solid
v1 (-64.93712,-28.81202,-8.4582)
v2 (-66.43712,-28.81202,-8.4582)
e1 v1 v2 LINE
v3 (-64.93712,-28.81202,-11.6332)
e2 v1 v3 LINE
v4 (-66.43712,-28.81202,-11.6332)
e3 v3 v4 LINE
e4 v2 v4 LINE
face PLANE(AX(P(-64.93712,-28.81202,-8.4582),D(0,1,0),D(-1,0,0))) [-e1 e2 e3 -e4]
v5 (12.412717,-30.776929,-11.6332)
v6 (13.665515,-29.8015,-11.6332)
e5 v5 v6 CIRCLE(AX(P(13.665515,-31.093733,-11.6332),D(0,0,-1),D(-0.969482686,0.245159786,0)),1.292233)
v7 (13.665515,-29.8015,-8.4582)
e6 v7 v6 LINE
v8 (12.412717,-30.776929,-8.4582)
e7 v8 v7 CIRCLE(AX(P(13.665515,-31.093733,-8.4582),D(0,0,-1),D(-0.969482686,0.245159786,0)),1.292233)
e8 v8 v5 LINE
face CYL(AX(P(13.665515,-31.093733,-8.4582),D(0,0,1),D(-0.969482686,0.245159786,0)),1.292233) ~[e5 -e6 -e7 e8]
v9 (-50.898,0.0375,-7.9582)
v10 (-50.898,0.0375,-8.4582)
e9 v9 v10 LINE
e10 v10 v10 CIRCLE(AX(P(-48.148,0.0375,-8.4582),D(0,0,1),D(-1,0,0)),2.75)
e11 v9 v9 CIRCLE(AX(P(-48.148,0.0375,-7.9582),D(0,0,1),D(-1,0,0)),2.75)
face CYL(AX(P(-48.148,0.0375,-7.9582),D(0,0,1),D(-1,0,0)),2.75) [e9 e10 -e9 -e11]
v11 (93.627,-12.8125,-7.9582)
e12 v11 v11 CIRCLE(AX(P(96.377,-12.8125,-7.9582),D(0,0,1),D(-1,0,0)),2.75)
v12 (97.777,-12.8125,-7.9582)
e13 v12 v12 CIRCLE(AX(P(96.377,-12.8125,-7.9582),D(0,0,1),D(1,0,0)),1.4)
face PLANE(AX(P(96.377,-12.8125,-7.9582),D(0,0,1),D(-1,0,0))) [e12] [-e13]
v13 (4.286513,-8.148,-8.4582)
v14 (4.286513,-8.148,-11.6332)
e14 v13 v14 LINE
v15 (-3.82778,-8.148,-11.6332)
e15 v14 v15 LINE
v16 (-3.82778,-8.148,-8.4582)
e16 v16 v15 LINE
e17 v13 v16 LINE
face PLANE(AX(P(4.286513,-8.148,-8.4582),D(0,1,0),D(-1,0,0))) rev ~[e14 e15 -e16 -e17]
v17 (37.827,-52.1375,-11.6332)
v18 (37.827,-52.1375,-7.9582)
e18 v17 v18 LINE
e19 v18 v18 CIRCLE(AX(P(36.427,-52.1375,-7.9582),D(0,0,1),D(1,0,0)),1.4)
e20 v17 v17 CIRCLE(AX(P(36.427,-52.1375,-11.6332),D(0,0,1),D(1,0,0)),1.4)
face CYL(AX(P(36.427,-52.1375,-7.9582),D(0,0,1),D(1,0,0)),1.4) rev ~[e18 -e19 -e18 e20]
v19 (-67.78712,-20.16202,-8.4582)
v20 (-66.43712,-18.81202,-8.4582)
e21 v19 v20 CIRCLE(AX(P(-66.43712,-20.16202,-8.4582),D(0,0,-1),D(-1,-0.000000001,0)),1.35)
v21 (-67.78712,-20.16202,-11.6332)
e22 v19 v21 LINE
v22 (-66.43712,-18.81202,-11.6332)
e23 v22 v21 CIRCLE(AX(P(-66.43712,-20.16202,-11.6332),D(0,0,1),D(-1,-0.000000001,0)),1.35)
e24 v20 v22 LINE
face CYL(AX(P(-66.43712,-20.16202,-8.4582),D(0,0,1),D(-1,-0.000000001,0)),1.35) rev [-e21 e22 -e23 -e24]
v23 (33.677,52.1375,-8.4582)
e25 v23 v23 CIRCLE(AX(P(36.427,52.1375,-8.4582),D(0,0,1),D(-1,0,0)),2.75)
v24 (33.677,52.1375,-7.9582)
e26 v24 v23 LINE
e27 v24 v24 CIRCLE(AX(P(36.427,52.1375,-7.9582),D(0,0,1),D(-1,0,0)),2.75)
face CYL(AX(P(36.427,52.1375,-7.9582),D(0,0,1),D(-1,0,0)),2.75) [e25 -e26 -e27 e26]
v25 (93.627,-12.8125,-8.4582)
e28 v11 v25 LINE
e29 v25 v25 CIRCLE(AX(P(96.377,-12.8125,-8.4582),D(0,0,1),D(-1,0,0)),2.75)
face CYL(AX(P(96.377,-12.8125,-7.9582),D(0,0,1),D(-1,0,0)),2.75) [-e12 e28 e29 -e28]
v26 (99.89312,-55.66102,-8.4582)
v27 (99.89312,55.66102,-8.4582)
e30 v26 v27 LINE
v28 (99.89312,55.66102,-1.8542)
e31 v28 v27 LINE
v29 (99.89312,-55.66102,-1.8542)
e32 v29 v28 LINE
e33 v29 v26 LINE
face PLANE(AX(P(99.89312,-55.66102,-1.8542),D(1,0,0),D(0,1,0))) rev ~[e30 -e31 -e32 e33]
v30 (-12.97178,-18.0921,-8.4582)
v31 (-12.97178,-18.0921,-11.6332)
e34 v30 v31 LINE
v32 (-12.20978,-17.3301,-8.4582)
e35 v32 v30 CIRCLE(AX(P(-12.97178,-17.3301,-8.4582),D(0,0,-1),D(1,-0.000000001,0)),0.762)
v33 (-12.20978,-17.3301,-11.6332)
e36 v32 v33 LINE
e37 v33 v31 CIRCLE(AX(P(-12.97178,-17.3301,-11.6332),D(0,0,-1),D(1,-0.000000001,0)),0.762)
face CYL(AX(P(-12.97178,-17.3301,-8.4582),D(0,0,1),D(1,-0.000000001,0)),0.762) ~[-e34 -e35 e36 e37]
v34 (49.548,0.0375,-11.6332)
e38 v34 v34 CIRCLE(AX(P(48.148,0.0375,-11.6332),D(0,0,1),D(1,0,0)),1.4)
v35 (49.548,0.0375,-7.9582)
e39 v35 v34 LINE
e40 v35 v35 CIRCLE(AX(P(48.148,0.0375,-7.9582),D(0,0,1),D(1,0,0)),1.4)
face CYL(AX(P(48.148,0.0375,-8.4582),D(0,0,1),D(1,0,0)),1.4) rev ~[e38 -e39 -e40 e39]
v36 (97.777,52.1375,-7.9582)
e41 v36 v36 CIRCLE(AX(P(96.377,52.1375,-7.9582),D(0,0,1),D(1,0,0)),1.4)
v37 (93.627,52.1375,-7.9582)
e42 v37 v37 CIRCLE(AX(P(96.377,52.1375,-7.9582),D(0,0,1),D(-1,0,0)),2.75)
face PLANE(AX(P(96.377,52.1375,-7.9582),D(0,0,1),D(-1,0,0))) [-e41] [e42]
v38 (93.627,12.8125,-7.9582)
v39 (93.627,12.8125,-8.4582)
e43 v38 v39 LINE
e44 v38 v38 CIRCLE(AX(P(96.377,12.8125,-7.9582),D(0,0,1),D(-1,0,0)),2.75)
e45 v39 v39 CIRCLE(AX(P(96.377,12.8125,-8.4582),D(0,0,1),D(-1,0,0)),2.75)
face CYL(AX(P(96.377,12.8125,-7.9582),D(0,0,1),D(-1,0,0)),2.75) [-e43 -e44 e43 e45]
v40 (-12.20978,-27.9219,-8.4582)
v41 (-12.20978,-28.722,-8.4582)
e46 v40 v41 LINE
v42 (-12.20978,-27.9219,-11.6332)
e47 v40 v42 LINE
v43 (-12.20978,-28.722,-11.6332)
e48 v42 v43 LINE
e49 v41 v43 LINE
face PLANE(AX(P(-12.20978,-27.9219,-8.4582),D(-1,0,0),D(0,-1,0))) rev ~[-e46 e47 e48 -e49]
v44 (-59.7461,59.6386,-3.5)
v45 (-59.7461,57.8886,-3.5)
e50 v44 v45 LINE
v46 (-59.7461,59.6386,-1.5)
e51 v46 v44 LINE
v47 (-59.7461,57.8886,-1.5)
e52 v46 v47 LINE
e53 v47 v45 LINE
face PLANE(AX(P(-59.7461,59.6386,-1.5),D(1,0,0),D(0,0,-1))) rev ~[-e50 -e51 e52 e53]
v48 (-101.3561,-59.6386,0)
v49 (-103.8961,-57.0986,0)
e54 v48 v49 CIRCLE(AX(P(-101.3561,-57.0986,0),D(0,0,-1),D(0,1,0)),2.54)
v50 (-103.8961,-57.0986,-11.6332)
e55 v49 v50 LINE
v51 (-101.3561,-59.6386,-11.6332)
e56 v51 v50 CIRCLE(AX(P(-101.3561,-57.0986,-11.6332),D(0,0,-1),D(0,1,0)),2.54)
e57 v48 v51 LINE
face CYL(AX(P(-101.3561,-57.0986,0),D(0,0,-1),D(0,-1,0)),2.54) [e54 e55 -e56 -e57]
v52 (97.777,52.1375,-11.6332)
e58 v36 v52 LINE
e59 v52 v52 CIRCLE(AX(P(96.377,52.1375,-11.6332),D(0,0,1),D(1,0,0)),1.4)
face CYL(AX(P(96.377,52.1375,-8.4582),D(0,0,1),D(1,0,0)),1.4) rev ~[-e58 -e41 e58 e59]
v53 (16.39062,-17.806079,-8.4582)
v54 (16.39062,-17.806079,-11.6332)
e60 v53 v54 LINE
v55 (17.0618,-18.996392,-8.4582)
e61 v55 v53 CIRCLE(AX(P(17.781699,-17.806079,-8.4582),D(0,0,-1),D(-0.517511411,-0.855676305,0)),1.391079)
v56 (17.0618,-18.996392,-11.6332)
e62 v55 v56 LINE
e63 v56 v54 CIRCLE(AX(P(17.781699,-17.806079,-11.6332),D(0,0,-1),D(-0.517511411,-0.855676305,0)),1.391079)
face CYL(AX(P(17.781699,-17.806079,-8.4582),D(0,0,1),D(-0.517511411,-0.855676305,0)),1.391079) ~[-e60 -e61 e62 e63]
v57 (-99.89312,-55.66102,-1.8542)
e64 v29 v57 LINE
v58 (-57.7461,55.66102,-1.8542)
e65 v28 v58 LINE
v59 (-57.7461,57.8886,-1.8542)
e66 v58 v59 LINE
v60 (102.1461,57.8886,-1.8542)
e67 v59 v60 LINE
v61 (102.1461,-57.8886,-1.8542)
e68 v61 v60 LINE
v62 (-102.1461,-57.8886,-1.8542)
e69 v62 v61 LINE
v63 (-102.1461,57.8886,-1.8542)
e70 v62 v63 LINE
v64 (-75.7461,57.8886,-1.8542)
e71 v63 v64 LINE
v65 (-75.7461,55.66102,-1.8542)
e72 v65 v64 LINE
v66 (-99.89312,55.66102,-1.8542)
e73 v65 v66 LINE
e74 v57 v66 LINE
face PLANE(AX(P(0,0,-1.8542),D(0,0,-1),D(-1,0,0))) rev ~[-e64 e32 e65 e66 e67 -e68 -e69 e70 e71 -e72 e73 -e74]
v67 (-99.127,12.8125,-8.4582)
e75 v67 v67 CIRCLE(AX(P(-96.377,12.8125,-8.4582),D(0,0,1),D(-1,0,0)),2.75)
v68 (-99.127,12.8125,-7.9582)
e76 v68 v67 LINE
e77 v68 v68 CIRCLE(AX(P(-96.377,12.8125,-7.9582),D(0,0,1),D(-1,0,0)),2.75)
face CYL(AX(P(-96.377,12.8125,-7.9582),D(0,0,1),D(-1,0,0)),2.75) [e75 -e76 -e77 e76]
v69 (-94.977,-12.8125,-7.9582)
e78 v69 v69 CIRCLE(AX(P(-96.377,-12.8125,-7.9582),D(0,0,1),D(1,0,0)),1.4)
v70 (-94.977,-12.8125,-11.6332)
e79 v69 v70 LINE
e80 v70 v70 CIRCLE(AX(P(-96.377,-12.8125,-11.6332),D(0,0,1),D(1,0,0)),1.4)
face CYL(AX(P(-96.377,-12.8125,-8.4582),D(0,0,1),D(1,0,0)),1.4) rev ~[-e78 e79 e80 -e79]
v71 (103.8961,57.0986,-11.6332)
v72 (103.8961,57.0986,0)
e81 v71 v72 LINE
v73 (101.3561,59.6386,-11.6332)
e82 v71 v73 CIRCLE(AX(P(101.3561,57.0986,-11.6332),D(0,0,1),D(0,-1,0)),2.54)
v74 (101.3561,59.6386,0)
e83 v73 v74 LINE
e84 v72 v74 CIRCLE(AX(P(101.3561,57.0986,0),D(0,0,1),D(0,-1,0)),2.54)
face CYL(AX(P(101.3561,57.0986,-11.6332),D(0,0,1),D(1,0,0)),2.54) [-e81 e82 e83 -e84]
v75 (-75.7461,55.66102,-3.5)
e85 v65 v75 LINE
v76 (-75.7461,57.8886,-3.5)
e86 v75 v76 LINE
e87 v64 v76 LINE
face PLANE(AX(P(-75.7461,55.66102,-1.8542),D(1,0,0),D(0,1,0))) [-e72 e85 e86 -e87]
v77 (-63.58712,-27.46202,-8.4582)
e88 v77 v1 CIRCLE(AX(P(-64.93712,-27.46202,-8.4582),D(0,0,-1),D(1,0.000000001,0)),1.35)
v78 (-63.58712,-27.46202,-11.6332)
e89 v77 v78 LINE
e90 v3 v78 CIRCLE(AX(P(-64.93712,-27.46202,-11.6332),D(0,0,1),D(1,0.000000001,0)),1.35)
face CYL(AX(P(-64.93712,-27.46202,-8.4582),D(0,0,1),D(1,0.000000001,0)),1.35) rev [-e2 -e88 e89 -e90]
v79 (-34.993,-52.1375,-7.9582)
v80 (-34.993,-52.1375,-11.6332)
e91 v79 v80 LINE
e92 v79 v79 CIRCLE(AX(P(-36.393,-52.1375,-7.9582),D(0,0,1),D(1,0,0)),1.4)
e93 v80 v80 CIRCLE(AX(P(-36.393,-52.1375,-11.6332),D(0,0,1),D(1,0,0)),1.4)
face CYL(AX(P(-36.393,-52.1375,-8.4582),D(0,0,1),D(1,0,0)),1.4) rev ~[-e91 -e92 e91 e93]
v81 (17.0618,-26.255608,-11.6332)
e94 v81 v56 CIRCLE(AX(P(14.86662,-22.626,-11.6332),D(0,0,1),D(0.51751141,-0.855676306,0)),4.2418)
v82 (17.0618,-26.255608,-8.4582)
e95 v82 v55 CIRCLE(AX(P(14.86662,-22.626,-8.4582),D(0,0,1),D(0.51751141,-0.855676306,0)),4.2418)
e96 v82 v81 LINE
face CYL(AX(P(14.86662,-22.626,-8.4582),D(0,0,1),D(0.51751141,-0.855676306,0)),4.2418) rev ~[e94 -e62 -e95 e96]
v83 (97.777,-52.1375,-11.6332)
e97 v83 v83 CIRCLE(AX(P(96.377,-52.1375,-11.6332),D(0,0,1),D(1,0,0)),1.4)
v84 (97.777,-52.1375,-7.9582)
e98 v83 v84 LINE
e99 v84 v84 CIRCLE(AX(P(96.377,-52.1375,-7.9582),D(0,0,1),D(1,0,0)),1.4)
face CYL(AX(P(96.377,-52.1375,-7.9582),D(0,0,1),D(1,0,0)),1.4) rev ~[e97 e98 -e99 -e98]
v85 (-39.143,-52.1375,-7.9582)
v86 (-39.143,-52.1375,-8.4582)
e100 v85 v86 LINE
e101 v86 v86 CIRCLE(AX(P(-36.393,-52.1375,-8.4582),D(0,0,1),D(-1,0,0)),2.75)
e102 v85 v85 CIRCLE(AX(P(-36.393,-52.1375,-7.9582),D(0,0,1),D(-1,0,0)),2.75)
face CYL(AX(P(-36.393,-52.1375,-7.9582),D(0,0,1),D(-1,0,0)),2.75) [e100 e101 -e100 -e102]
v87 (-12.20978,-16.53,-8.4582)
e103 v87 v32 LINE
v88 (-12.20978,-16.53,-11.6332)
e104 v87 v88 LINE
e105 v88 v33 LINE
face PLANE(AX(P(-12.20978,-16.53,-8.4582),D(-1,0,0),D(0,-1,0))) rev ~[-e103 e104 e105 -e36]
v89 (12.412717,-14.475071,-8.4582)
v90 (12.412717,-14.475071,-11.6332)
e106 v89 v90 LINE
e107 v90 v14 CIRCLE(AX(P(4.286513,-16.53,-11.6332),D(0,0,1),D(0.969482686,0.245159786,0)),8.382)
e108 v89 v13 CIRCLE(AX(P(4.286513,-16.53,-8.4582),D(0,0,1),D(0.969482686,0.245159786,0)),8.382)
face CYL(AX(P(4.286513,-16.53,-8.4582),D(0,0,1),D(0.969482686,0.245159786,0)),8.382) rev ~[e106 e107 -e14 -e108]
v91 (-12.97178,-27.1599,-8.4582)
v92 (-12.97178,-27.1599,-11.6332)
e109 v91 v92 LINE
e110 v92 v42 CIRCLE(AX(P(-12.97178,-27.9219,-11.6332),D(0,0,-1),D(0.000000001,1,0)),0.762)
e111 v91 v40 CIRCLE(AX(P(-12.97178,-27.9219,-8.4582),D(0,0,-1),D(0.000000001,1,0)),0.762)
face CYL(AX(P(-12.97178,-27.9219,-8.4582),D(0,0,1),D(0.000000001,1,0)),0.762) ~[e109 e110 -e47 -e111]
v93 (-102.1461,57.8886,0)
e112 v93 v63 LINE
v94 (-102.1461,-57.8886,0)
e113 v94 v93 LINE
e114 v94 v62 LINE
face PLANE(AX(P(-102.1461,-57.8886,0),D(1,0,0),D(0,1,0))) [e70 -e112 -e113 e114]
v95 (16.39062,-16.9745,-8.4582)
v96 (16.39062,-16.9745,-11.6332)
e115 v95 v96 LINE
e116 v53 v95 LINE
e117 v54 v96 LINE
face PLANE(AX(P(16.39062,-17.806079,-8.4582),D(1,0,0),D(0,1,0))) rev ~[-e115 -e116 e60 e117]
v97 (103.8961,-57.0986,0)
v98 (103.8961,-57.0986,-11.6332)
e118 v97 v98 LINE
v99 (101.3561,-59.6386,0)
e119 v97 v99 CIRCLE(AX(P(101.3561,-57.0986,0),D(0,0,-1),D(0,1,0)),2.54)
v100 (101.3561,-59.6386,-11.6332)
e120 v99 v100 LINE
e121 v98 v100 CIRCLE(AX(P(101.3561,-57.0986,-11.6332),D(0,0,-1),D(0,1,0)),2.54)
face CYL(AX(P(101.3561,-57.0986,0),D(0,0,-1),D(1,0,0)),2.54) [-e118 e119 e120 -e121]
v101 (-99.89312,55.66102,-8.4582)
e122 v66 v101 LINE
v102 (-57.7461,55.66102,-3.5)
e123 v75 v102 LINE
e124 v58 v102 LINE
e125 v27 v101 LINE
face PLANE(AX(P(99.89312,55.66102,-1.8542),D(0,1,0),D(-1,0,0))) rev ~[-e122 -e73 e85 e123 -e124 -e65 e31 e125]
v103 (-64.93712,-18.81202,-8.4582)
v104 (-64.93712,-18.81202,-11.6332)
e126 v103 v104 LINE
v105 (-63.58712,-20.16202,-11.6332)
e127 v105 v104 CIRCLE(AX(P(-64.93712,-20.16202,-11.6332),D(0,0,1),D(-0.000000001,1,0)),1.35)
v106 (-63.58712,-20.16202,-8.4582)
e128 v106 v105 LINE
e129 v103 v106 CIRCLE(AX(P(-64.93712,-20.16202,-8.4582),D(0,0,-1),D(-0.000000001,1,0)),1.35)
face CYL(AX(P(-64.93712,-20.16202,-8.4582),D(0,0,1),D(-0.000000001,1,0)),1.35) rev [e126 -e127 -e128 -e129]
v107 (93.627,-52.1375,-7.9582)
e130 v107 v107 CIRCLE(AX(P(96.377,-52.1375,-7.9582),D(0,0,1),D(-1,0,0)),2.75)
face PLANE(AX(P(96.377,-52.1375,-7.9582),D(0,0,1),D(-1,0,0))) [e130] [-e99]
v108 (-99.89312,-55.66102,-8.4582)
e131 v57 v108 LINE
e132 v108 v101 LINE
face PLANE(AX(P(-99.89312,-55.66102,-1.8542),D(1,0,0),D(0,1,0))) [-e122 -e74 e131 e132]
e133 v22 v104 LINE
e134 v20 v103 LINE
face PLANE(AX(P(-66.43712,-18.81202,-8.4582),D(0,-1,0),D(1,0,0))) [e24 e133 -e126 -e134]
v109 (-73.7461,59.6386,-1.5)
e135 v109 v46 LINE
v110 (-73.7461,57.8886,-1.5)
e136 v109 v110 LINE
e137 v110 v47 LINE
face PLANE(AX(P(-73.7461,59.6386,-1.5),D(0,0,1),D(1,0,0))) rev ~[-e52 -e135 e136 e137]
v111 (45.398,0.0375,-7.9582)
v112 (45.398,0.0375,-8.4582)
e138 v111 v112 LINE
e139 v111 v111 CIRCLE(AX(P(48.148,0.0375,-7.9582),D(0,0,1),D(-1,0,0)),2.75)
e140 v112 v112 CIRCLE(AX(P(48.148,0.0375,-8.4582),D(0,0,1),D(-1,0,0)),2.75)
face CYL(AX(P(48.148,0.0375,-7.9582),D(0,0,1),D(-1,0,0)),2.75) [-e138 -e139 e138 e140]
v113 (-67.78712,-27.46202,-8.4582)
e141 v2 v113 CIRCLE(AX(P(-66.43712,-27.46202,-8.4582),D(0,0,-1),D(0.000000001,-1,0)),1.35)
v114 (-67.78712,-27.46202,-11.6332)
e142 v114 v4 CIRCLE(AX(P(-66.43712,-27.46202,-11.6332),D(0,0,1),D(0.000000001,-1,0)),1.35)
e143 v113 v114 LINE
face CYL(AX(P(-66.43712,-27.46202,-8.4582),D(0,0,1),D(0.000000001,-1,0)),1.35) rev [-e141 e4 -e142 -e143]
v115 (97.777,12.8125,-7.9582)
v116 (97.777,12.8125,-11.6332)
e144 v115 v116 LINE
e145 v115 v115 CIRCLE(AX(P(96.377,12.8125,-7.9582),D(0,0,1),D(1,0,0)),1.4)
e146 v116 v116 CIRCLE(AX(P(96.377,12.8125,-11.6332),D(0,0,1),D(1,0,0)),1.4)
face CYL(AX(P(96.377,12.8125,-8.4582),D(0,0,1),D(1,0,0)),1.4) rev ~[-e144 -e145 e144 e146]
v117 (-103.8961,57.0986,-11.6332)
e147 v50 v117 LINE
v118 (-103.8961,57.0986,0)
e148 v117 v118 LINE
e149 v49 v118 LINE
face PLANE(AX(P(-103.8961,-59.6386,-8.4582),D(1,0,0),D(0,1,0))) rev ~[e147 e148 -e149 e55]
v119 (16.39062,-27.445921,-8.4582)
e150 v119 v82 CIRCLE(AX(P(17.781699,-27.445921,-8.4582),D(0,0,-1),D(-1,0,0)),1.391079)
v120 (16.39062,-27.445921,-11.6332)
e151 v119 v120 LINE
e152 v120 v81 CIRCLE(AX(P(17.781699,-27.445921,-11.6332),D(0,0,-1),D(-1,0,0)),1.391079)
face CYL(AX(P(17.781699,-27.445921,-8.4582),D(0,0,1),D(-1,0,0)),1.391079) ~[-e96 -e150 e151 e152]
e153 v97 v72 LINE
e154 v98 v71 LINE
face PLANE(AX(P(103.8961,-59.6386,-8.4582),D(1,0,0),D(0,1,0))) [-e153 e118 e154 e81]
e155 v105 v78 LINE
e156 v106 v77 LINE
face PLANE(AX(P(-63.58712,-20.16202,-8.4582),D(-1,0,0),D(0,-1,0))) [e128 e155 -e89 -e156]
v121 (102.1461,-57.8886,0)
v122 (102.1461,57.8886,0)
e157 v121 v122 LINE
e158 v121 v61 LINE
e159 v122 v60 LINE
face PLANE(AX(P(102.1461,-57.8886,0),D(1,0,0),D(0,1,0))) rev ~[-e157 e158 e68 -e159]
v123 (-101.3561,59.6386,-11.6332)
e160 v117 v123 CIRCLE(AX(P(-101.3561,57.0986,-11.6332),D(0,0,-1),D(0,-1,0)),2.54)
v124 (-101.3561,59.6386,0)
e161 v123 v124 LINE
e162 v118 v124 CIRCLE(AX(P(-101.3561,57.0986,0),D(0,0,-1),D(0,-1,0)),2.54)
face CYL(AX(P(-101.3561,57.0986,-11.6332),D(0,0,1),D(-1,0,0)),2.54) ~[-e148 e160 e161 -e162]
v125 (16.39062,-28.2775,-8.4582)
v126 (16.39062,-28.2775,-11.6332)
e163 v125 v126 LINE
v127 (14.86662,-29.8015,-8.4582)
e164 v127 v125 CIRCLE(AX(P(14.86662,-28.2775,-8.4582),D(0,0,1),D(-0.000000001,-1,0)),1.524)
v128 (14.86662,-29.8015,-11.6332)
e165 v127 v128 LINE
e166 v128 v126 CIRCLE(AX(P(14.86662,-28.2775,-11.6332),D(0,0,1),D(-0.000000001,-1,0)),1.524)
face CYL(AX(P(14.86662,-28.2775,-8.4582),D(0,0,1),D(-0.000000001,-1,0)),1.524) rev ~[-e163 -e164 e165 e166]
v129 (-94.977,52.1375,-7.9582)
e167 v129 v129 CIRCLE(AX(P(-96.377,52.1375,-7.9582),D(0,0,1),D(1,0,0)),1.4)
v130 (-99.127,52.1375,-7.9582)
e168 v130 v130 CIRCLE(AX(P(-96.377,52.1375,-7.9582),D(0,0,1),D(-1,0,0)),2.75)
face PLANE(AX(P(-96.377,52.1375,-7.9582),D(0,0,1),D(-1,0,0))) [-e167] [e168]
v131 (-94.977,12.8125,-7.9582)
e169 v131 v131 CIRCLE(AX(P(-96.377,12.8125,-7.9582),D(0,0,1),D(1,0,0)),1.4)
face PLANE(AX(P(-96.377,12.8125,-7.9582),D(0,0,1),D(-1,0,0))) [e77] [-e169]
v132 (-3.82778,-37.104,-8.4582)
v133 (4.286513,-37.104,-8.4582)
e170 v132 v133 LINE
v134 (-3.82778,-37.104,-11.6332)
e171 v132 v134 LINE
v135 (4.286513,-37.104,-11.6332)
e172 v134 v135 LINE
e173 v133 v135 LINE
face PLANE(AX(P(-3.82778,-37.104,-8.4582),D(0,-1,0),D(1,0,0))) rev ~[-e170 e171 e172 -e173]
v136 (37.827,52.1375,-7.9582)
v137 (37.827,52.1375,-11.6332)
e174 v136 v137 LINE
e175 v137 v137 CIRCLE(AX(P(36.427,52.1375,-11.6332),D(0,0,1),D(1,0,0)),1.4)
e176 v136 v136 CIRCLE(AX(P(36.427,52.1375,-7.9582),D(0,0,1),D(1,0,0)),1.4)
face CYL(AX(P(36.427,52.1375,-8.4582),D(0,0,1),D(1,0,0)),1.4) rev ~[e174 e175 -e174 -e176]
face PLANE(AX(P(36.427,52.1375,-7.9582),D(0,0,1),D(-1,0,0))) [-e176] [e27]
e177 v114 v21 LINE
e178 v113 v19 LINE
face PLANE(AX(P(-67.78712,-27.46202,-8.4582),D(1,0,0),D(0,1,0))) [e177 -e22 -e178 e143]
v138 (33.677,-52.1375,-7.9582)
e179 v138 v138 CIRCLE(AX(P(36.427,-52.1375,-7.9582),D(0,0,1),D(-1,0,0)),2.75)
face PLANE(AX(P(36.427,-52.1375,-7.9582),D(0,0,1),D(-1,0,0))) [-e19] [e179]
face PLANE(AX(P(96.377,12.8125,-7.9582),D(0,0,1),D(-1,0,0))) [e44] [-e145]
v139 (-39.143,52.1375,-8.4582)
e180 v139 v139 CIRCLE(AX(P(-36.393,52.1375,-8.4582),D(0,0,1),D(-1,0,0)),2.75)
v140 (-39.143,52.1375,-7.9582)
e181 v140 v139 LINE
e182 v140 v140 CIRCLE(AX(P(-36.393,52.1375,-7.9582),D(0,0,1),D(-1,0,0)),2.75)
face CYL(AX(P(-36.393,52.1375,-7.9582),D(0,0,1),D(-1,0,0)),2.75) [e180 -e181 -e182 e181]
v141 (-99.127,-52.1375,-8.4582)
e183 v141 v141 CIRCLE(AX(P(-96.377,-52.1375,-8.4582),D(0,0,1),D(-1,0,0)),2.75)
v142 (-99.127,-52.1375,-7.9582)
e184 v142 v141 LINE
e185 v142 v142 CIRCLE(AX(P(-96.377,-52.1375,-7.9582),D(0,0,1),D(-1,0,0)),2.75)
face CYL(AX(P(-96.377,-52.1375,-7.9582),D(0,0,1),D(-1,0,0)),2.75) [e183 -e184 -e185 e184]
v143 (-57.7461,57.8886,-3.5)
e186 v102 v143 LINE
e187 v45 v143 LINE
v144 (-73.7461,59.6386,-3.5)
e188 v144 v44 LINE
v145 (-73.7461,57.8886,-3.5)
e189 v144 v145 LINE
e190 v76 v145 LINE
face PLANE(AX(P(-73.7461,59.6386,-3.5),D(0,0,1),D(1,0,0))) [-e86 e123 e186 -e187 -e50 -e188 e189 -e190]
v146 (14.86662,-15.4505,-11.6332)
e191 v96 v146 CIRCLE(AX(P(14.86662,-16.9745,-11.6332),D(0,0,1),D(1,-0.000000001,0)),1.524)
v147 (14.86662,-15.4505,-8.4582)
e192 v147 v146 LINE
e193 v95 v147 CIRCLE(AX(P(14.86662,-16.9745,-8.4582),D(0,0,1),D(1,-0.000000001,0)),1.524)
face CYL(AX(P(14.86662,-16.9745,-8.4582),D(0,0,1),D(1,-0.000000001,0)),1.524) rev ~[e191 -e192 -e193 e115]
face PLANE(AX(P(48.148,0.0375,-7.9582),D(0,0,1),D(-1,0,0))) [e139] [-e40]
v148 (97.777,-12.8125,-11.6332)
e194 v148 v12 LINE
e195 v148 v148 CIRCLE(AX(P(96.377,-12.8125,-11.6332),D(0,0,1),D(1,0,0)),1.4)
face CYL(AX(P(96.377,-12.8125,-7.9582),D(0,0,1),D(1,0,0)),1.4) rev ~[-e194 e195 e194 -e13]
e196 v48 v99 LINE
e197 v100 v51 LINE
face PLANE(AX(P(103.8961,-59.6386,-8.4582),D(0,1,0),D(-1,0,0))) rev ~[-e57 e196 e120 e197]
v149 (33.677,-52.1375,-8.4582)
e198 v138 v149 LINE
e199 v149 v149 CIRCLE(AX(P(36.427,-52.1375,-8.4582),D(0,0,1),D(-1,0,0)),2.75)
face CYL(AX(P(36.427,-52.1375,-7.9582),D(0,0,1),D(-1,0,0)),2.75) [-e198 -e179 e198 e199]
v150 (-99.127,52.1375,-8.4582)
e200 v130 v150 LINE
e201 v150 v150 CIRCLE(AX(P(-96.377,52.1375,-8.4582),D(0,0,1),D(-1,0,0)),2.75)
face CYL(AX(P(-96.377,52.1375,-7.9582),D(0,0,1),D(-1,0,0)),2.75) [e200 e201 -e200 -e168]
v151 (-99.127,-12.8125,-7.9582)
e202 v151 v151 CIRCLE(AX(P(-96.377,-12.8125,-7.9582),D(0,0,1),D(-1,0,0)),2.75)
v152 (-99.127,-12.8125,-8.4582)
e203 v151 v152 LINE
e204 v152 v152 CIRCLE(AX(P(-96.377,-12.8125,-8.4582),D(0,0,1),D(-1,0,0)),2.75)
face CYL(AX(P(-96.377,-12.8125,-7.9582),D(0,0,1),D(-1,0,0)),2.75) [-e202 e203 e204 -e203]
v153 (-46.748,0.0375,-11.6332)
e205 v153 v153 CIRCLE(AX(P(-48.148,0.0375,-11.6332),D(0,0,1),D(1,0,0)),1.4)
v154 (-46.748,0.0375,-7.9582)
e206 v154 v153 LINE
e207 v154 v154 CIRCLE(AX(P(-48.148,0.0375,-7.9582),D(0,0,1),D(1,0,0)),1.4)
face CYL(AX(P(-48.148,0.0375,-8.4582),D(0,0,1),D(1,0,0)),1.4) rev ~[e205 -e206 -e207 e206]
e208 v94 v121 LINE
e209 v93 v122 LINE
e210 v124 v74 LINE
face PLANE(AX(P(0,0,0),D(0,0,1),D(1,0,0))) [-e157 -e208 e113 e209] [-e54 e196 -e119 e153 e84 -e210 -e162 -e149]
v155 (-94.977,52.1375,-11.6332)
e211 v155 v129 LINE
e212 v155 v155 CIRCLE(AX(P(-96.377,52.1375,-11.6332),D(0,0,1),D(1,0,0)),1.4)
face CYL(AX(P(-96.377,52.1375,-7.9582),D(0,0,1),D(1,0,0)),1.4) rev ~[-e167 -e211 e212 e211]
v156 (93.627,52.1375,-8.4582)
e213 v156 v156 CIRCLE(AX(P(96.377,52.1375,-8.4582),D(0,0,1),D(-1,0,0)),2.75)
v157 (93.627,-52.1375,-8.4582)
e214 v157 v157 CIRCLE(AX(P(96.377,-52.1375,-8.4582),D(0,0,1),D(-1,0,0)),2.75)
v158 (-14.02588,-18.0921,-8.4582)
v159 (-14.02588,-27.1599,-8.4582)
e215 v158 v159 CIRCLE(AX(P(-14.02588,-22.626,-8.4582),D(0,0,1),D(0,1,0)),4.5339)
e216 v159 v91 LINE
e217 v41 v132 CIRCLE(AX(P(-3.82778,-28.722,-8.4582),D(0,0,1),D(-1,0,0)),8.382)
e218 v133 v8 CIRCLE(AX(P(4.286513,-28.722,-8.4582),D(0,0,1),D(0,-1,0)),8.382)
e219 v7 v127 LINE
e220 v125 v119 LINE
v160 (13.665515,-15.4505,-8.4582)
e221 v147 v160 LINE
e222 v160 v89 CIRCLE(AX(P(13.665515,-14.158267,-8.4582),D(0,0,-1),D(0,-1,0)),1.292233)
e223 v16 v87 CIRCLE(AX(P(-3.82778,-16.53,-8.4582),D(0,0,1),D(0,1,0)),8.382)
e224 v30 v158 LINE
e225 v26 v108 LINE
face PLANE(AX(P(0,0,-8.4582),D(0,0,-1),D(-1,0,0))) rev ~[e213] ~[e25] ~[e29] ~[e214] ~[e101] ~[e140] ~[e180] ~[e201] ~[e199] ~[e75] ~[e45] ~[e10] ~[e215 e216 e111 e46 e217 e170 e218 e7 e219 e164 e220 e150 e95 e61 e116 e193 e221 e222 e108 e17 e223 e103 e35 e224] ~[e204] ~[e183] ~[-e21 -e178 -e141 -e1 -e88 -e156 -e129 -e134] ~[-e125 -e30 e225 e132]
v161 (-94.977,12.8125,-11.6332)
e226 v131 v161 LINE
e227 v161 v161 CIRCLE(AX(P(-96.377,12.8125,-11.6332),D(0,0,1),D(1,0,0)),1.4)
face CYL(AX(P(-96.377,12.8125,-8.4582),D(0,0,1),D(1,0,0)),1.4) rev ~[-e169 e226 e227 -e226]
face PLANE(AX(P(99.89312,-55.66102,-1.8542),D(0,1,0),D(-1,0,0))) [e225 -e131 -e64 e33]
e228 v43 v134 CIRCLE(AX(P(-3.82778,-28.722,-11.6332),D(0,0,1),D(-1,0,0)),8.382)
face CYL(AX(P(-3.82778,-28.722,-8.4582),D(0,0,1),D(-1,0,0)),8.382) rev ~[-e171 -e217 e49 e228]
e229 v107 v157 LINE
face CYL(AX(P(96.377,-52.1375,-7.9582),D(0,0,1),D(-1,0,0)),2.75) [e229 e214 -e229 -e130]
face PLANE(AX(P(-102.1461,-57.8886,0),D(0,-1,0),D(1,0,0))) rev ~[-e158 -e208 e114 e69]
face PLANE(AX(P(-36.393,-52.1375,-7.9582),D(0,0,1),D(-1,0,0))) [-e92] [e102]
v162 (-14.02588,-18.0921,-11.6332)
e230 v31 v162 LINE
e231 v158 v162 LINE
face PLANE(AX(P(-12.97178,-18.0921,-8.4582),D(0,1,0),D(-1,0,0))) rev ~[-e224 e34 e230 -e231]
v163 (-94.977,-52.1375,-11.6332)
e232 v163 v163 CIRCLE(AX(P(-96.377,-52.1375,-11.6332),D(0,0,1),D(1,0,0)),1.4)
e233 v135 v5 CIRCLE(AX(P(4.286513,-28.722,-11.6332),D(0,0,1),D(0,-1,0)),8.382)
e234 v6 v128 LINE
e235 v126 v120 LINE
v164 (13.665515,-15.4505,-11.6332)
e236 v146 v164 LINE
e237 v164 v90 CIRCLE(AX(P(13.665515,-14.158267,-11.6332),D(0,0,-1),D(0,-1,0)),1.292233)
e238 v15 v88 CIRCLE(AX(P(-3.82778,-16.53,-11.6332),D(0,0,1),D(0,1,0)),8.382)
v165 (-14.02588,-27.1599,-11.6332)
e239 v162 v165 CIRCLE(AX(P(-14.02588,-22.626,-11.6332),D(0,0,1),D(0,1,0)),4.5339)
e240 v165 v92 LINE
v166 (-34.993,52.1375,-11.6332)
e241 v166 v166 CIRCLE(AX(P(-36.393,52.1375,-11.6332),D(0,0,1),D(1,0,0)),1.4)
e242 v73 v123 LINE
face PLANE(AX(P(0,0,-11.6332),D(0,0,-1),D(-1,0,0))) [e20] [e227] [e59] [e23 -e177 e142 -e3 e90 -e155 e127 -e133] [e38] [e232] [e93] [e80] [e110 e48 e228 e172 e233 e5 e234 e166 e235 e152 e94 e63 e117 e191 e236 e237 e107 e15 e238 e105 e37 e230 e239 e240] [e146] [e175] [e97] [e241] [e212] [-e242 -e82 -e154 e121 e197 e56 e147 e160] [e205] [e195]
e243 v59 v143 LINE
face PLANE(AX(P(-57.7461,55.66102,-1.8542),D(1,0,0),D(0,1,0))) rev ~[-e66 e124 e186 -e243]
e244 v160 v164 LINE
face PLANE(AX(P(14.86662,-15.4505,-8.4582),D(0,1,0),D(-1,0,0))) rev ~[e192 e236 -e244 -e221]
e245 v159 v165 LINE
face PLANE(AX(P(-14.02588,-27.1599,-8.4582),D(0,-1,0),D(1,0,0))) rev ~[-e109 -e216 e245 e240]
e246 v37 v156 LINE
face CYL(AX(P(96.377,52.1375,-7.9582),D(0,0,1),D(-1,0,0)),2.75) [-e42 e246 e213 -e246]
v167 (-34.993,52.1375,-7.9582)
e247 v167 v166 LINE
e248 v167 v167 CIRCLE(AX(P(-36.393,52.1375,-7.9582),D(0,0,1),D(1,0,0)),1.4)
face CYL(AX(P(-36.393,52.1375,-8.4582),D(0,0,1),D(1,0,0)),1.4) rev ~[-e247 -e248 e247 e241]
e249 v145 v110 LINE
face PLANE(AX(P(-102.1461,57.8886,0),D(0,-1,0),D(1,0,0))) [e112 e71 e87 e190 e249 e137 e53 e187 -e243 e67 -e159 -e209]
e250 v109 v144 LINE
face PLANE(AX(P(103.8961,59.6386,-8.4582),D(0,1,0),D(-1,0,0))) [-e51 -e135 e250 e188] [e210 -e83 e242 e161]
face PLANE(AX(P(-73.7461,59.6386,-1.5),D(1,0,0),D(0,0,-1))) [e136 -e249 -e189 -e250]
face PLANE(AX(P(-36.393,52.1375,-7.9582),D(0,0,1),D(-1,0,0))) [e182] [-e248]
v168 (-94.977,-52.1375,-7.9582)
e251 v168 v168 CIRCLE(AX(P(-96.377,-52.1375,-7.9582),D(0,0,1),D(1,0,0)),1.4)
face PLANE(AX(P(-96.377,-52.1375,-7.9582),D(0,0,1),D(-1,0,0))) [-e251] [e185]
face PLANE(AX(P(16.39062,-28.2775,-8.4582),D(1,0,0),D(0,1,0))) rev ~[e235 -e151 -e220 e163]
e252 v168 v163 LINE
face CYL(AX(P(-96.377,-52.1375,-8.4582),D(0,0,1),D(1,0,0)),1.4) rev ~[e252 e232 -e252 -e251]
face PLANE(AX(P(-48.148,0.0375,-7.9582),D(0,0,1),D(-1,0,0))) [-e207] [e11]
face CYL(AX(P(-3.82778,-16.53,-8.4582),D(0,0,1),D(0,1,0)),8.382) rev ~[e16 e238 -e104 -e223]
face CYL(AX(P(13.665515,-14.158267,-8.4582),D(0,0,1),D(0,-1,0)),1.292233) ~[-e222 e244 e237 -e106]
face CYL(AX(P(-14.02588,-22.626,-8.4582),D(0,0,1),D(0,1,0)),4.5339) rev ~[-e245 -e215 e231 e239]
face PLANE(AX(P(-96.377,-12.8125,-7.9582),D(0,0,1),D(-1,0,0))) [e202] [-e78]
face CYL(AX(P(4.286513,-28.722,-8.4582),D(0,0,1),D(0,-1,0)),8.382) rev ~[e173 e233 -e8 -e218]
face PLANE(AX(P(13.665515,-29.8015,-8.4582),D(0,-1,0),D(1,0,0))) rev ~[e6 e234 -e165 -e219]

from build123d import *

# Parameters (mm, degrees)
SKETCH4_W           = 207.7922
SKETCH4_H           = 119.2772
SKETCH4_W_2         = 204.2922
SKETCH4_H_2         = 115.7772
BOSS_EXTRUDE1_DEPTH = 1.8542
SKETCH5_W           = 207.7922
SKETCH5_H           = 119.2772
SKETCH5_W_2         = 199.78624
SKETCH5_H_2         = 111.32204
BOSS_EXTRUDE2_DEPTH = 6.604
SKETCH6_W           = 207.7922
SKETCH6_H           = 119.2772
BOSS_EXTRUDE3_DEPTH = 3.175
FILLET1_R           = 2.54
CUT_EXTRUDE2_REACH  = 122.095
SKETCH11_R          = 1.4
CUT_EXTRUDE3_REACH  = 160.609
SKETCH12_W          = 14
SKETCH12_H          = 2
SKETCH13_W          = 18
SKETCH13_H          = 2.22758
CUT_EXTRUDE4_DEPTH  = 1.6458
BOSS_EXTRUDE4_START = 0.5
SKETCH14_R          = 2.75
SKETCH14_R_2        = 1.4
BOSS_EXTRUDE4_DEPTH = 0.5
CUT_EXTRUDE5_REACH  = 122.095


with BuildPart() as part:
    # Sketch4 → Boss-Extrude1 (new body)
    with BuildSketch(Plane.XY):
        Rectangle(SKETCH4_W, SKETCH4_H)
        Rectangle(SKETCH4_W_2, SKETCH4_H_2, mode=Mode.SUBTRACT)
    extrude(amount=-BOSS_EXTRUDE1_DEPTH)

    # Sketch5 → Boss-Extrude2 (add)
    with BuildSketch(Plane(origin=(0, 0, -1.8542), x_dir=(-1, 0, 0), z_dir=(0, 0, -1))):
        Rectangle(SKETCH5_W, SKETCH5_H)
        Rectangle(SKETCH5_W_2, SKETCH5_H_2, mode=Mode.SUBTRACT)
    extrude(amount=BOSS_EXTRUDE2_DEPTH)

    # Sketch6 → Boss-Extrude3 (add)
    with BuildSketch(Plane(origin=(0, 0, -8.4582), x_dir=(-1, 0, 0), z_dir=(0, 0, -1))):
        Rectangle(SKETCH6_W, SKETCH6_H)
        with BuildLine():
            Line((12.20978, -27.9219), (12.20978, -28.722))
            ThreePointArc((12.20978, -28.722), (9.75474904, -34.64896904), (3.82778, -37.104))
            Line((3.82778, -37.104), (-4.286513327, -37.104))
            ThreePointArc((-4.286513327, -37.104), (-9.435955354, -35.33571082), (-12.412717205, -30.776929327))
            ThreePointArc((-12.412717205, -30.776929327), (-12.871637448, -30.074112906), (-13.665514588, -29.8015))
            Line((-13.665514588, -29.8015), (-14.86662, -29.8015))
            ThreePointArc((-14.86662, -29.8015), (-15.944250735, -29.355130735), (-16.39062, -28.2775))
            Line((-16.39062, -28.2775), (-16.39062, -27.445921371))
            ThreePointArc((-16.39062, -27.445921371), (-16.569977638, -26.762670142), (-17.061799901, -26.255607753))
            ThreePointArc((-17.061799901, -26.255607753), (-19.10842, -22.626), (-17.061799901, -18.996392247))
            ThreePointArc((-17.061799901, -18.996392247), (-16.569977638, -18.489329858), (-16.39062, -17.806078629))
            Line((-16.39062, -17.806078629), (-16.39062, -16.9745))
            ThreePointArc((-16.39062, -16.9745), (-15.944250735, -15.896869265), (-14.86662, -15.4505))
            Line((-14.86662, -15.4505), (-13.665514588, -15.4505))
            ThreePointArc((-13.665514588, -15.4505), (-12.871637448, -15.177887094), (-12.412717205, -14.475070673))
            ThreePointArc((-12.412717205, -14.475070673), (-9.435955354, -9.91628918), (-4.286513327, -8.148))
            Line((-4.286513327, -8.148), (3.82778, -8.148))
            ThreePointArc((3.82778, -8.148), (9.75474904, -10.60303096), (12.20978, -16.53))
            Line((12.20978, -16.53), (12.20978, -17.3301))
            ThreePointArc((12.20978, -17.3301), (12.432964633, -17.868915367), (12.97178, -18.0921))
            Line((12.97178, -18.0921), (14.02588, -18.0921))
            ThreePointArc((14.02588, -18.0921), (18.55978, -22.626), (14.02588, -27.1599))
            Line((14.02588, -27.1599), (12.97178, -27.1599))
            ThreePointArc((12.97178, -27.1599), (12.432964633, -27.383084633), (12.20978, -27.9219))
        make_face(mode=Mode.SUBTRACT)
    extrude(amount=BOSS_EXTRUDE3_DEPTH)

    # Fillet1
    fillet1_edges = [part.edges().sort_by_distance(p)[0] for p in [
        (-103.8961, -59.6386, -5.8166),
        (103.8961, -59.6386, -5.8166),
        (103.8961, 59.6386, -5.8166),
        (-103.8961, 59.6386, -5.8166),
    ]]
    fillet(fillet1_edges, radius=FILLET1_R)

    # Sketch11 → Cut-Extrude2 (cut, up to next)
    with BuildSketch(Plane.XY.offset(-8.4582), mode=Mode.PRIVATE) as cut_extrude2_sk1:
        with Locations((-96.377, 52.1375)):
            Circle(SKETCH11_R)
    cut_extrude2_tool1 = extrude(cut_extrude2_sk1.sketch, amount=-CUT_EXTRUDE2_REACH, mode=Mode.PRIVATE) & part.part
    # Sketch11 → Cut-Extrude2 (cut, up to next)
    with BuildSketch(Plane.XY.offset(-8.4582), mode=Mode.PRIVATE) as cut_extrude2_sk2:
        with Locations((96.377, 52.1375)):
            Circle(SKETCH11_R)
    cut_extrude2_tool2 = extrude(cut_extrude2_sk2.sketch, amount=-CUT_EXTRUDE2_REACH, mode=Mode.PRIVATE) & part.part
    # Sketch11 → Cut-Extrude2 (cut, up to next)
    with BuildSketch(Plane.XY.offset(-8.4582), mode=Mode.PRIVATE) as cut_extrude2_sk3:
        with Locations((-96.377, -52.1375)):
            Circle(SKETCH11_R)
    cut_extrude2_tool3 = extrude(cut_extrude2_sk3.sketch, amount=-CUT_EXTRUDE2_REACH, mode=Mode.PRIVATE) & part.part
    # Sketch11 → Cut-Extrude2 (cut, up to next)
    with BuildSketch(Plane.XY.offset(-8.4582), mode=Mode.PRIVATE) as cut_extrude2_sk4:
        with Locations((96.377, -52.1375)):
            Circle(SKETCH11_R)
    cut_extrude2_tool4 = extrude(cut_extrude2_sk4.sketch, amount=-CUT_EXTRUDE2_REACH, mode=Mode.PRIVATE) & part.part
    # Sketch11 → Cut-Extrude2 (cut, up to next)
    with BuildSketch(Plane.XY.offset(-8.4582), mode=Mode.PRIVATE) as cut_extrude2_sk5:
        with Locations((96.377, -12.8125)):
            Circle(SKETCH11_R)
    cut_extrude2_tool5 = extrude(cut_extrude2_sk5.sketch, amount=-CUT_EXTRUDE2_REACH, mode=Mode.PRIVATE) & part.part
    # Sketch11 → Cut-Extrude2 (cut, up to next)
    with BuildSketch(Plane.XY.offset(-8.4582), mode=Mode.PRIVATE) as cut_extrude2_sk6:
        with Locations((96.377, 12.8125)):
            Circle(SKETCH11_R)
    cut_extrude2_tool6 = extrude(cut_extrude2_sk6.sketch, amount=-CUT_EXTRUDE2_REACH, mode=Mode.PRIVATE) & part.part
    # Sketch11 → Cut-Extrude2 (cut, up to next)
    with BuildSketch(Plane.XY.offset(-8.4582), mode=Mode.PRIVATE) as cut_extrude2_sk7:
        with Locations((-96.377, -12.8125)):
            Circle(SKETCH11_R)
    cut_extrude2_tool7 = extrude(cut_extrude2_sk7.sketch, amount=-CUT_EXTRUDE2_REACH, mode=Mode.PRIVATE) & part.part
    # Sketch11 → Cut-Extrude2 (cut, up to next)
    with BuildSketch(Plane.XY.offset(-8.4582), mode=Mode.PRIVATE) as cut_extrude2_sk8:
        with Locations((-96.377, 12.8125)):
            Circle(SKETCH11_R)
    cut_extrude2_tool8 = extrude(cut_extrude2_sk8.sketch, amount=-CUT_EXTRUDE2_REACH, mode=Mode.PRIVATE) & part.part
    # Sketch11 → Cut-Extrude2 (cut, up to next)
    with BuildSketch(Plane.XY.offset(-8.4582), mode=Mode.PRIVATE) as cut_extrude2_sk9:
        with Locations((-36.393, 52.1375)):
            Circle(SKETCH11_R)
    cut_extrude2_tool9 = extrude(cut_extrude2_sk9.sketch, amount=-CUT_EXTRUDE2_REACH, mode=Mode.PRIVATE) & part.part
    # Sketch11 → Cut-Extrude2 (cut, up to next)
    with BuildSketch(Plane.XY.offset(-8.4582), mode=Mode.PRIVATE) as cut_extrude2_sk10:
        with Locations((36.427, 52.1375)):
            Circle(SKETCH11_R)
    cut_extrude2_tool10 = extrude(cut_extrude2_sk10.sketch, amount=-CUT_EXTRUDE2_REACH, mode=Mode.PRIVATE) & part.part
    # Sketch11 → Cut-Extrude2 (cut, up to next)
    with BuildSketch(Plane.XY.offset(-8.4582), mode=Mode.PRIVATE) as cut_extrude2_sk11:
        with Locations((36.427, -52.1375)):
            Circle(SKETCH11_R)
    cut_extrude2_tool11 = extrude(cut_extrude2_sk11.sketch, amount=-CUT_EXTRUDE2_REACH, mode=Mode.PRIVATE) & part.part
    # Sketch11 → Cut-Extrude2 (cut, up to next)
    with BuildSketch(Plane.XY.offset(-8.4582), mode=Mode.PRIVATE) as cut_extrude2_sk12:
        with Locations((-36.393, -52.1375)):
            Circle(SKETCH11_R)
    cut_extrude2_tool12 = extrude(cut_extrude2_sk12.sketch, amount=-CUT_EXTRUDE2_REACH, mode=Mode.PRIVATE) & part.part
    # Sketch11 → Cut-Extrude2 (cut, up to next)
    with BuildSketch(Plane.XY.offset(-8.4582), mode=Mode.PRIVATE) as cut_extrude2_sk13:
        with Locations((-48.148, 0.0375)):
            Circle(SKETCH11_R)
    cut_extrude2_tool13 = extrude(cut_extrude2_sk13.sketch, amount=-CUT_EXTRUDE2_REACH, mode=Mode.PRIVATE) & part.part
    # Sketch11 → Cut-Extrude2 (cut, up to next)
    with BuildSketch(Plane.XY.offset(-8.4582), mode=Mode.PRIVATE) as cut_extrude2_sk14:
        with Locations((48.148, 0.0375)):
            Circle(SKETCH11_R)
    cut_extrude2_tool14 = extrude(cut_extrude2_sk14.sketch, amount=-CUT_EXTRUDE2_REACH, mode=Mode.PRIVATE) & part.part
    add(cut_extrude2_tool1.solids().sort_by_distance((-96.377, 52.1375, -8.4582))[0], mode=Mode.SUBTRACT)
    add(cut_extrude2_tool2.solids().sort_by_distance((96.377, 52.1375, -8.4582))[0], mode=Mode.SUBTRACT)
    add(cut_extrude2_tool3.solids().sort_by_distance((-96.377, -52.1375, -8.4582))[0], mode=Mode.SUBTRACT)
    add(cut_extrude2_tool4.solids().sort_by_distance((96.377, -52.1375, -8.4582))[0], mode=Mode.SUBTRACT)
    add(cut_extrude2_tool5.solids().sort_by_distance((96.377, -12.8125, -8.4582))[0], mode=Mode.SUBTRACT)
    add(cut_extrude2_tool6.solids().sort_by_distance((96.377, 12.8125, -8.4582))[0], mode=Mode.SUBTRACT)
    add(cut_extrude2_tool7.solids().sort_by_distance((-96.377, -12.8125, -8.4582))[0], mode=Mode.SUBTRACT)
    add(cut_extrude2_tool8.solids().sort_by_distance((-96.377, 12.8125, -8.4582))[0], mode=Mode.SUBTRACT)
    add(cut_extrude2_tool9.solids().sort_by_distance((-36.393, 52.1375, -8.4582))[0], mode=Mode.SUBTRACT)
    add(cut_extrude2_tool10.solids().sort_by_distance((36.427, 52.1375, -8.4582))[0], mode=Mode.SUBTRACT)
    add(cut_extrude2_tool11.solids().sort_by_distance((36.427, -52.1375, -8.4582))[0], mode=Mode.SUBTRACT)
    add(cut_extrude2_tool12.solids().sort_by_distance((-36.393, -52.1375, -8.4582))[0], mode=Mode.SUBTRACT)
    add(cut_extrude2_tool13.solids().sort_by_distance((-48.148, 0.0375, -8.4582))[0], mode=Mode.SUBTRACT)
    add(cut_extrude2_tool14.solids().sort_by_distance((48.148, 0.0375, -8.4582))[0], mode=Mode.SUBTRACT)

    # Sketch12 → Cut-Extrude3 (cut, up to next)
    with BuildSketch(Plane(origin=(0, 59.6386, 0), x_dir=(1, 0, 0), z_dir=(0, 1, 0)), mode=Mode.PRIVATE) as cut_extrude3_sk1:
        with Locations((-66.7461, 2.5)):
            Rectangle(SKETCH12_W, SKETCH12_H)
    cut_extrude3_tool1 = extrude(cut_extrude3_sk1.sketch, amount=-CUT_EXTRUDE3_REACH, mode=Mode.PRIVATE) & part.part
    add(cut_extrude3_tool1.solids().sort_by_distance((-66.7461, 59.6386, -2.5))[0], mode=Mode.SUBTRACT)

    # Sketch13 → Cut-Extrude4 (cut)
    with BuildSketch(Plane.XY.offset(-1.8542)):
        with Locations((-66.7461, 56.77481)):
            Rectangle(SKETCH13_W, SKETCH13_H)
    extrude(amount=-CUT_EXTRUDE4_DEPTH, mode=Mode.SUBTRACT)

    # Sketch14 → Boss-Extrude4 (add)
    # profile 1 of 14: a face of its own
    with BuildSketch(Plane.XY.offset(-8.4582).offset(BOSS_EXTRUDE4_START)):
        with Locations(Location((-96.377, 52.1375, 0), (0, 0, 180))):
            Circle(SKETCH14_R)
        with Locations((-96.377, 52.1375)):
            Circle(SKETCH14_R_2, mode=Mode.SUBTRACT)
    # profile 2 of 14: a face of its own
    with BuildSketch(Plane.XY.offset(-8.4582).offset(BOSS_EXTRUDE4_START)):
        with Locations(Location((-36.393, 52.1375, 0), (0, 0, 180))):
            Circle(SKETCH14_R)
        with Locations((-36.393, 52.1375)):
            Circle(SKETCH14_R_2, mode=Mode.SUBTRACT)
    # profile 3 of 14: a face of its own
    with BuildSketch(Plane.XY.offset(-8.4582).offset(BOSS_EXTRUDE4_START)):
        with Locations(Location((36.427, 52.1375, 0), (0, 0, 180))):
            Circle(SKETCH14_R)
        with Locations((36.427, 52.1375)):
            Circle(SKETCH14_R_2, mode=Mode.SUBTRACT)
    # profile 4 of 14: a face of its own
    with BuildSketch(Plane.XY.offset(-8.4582).offset(BOSS_EXTRUDE4_START)):
        with Locations(Location((96.377, 52.1375, 0), (0, 0, 180))):
            Circle(SKETCH14_R)
        with Locations((96.377, 52.1375)):
            Circle(SKETCH14_R_2, mode=Mode.SUBTRACT)
    # profile 5 of 14: a face of its own
    with BuildSketch(Plane.XY.offset(-8.4582).offset(BOSS_EXTRUDE4_START)):
        with Locations(Location((-96.377, 12.8125, 0), (0, 0, 180))):
            Circle(SKETCH14_R)
        with Locations((-96.377, 12.8125)):
            Circle(SKETCH14_R_2, mode=Mode.SUBTRACT)
    # profile 6 of 14: a face of its own
    with BuildSketch(Plane.XY.offset(-8.4582).offset(BOSS_EXTRUDE4_START)):
        with Locations(Location((-48.148, 0.0375, 0), (0, 0, 180))):
            Circle(SKETCH14_R)
        with Locations((-48.148, 0.0375)):
            Circle(SKETCH14_R_2, mode=Mode.SUBTRACT)
    # profile 7 of 14: a face of its own
    with BuildSketch(Plane.XY.offset(-8.4582).offset(BOSS_EXTRUDE4_START)):
        with Locations(Location((-96.377, -12.8125, 0), (0, 0, 180))):
            Circle(SKETCH14_R)
        with Locations((-96.377, -12.8125)):
            Circle(SKETCH14_R_2, mode=Mode.SUBTRACT)
    # profile 8 of 14: a face of its own
    with BuildSketch(Plane.XY.offset(-8.4582).offset(BOSS_EXTRUDE4_START)):
        with Locations(Location((-96.377, -52.1375, 0), (0, 0, 180))):
            Circle(SKETCH14_R)
        with Locations((-96.377, -52.1375)):
            Circle(SKETCH14_R_2, mode=Mode.SUBTRACT)
    # profile 9 of 14: a face of its own
    with BuildSketch(Plane.XY.offset(-8.4582).offset(BOSS_EXTRUDE4_START)):
        with Locations(Location((-36.393, -52.1375, 0), (0, 0, 180))):
            Circle(SKETCH14_R)
        with Locations((-36.393, -52.1375)):
            Circle(SKETCH14_R_2, mode=Mode.SUBTRACT)
    # profile 10 of 14: a face of its own
    with BuildSketch(Plane.XY.offset(-8.4582).offset(BOSS_EXTRUDE4_START)):
        with Locations(Location((48.148, 0.0375, 0), (0, 0, 180))):
            Circle(SKETCH14_R)
        with Locations((48.148, 0.0375)):
            Circle(SKETCH14_R_2, mode=Mode.SUBTRACT)
    # profile 11 of 14: a face of its own
    with BuildSketch(Plane.XY.offset(-8.4582).offset(BOSS_EXTRUDE4_START)):
        with Locations(Location((36.427, -52.1375, 0), (0, 0, 180))):
            Circle(SKETCH14_R)
        with Locations((36.427, -52.1375)):
            Circle(SKETCH14_R_2, mode=Mode.SUBTRACT)
    # profile 12 of 14: a face of its own
    with BuildSketch(Plane.XY.offset(-8.4582).offset(BOSS_EXTRUDE4_START)):
        with Locations(Location((96.377, -52.1375, 0), (0, 0, 180))):
            Circle(SKETCH14_R)
        with Locations((96.377, -52.1375)):
            Circle(SKETCH14_R_2, mode=Mode.SUBTRACT)
    # profile 13 of 14: a face of its own
    with BuildSketch(Plane.XY.offset(-8.4582).offset(BOSS_EXTRUDE4_START)):
        with Locations(Location((96.377, -12.8125, 0), (0, 0, 180))):
            Circle(SKETCH14_R)
        with Locations((96.377, -12.8125)):
            Circle(SKETCH14_R_2, mode=Mode.SUBTRACT)
    # profile 14 of 14: a face of its own
    with BuildSketch(Plane.XY.offset(-8.4582).offset(BOSS_EXTRUDE4_START)):
        with Locations(Location((96.377, 12.8125, 0), (0, 0, 180))):
            Circle(SKETCH14_R)
        with Locations((96.377, 12.8125)):
            Circle(SKETCH14_R_2, mode=Mode.SUBTRACT)
    extrude(amount=-BOSS_EXTRUDE4_DEPTH)

    # Sketch15 → Cut-Extrude5 (cut, up to next)
    with BuildSketch(Plane.XY.offset(-8.4582), mode=Mode.PRIVATE) as cut_extrude5_sk1:
        with BuildLine():
            Line((-66.43712, -18.81202), (-64.93712, -18.81202))
            ThreePointArc((-64.93712, -18.81202), (-63.982525845, -19.207425845), (-63.58712, -20.16202))
            Line((-63.58712, -20.16202), (-63.58712, -27.46202))
            ThreePointArc((-63.58712, -27.46202), (-63.982525845, -28.416614155), (-64.93712, -28.81202))
            Line((-64.93712, -28.81202), (-66.43712, -28.81202))
            ThreePointArc((-66.43712, -28.81202), (-67.391714155, -28.416614155), (-67.78712, -27.46202))
            Line((-67.78712, -27.46202), (-67.78712, -20.16202))
            ThreePointArc((-67.78712, -20.16202), (-67.391714155, -19.207425845), (-66.43712, -18.81202))
        make_face()
    cut_extrude5_tool1 = extrude(cut_extrude5_sk1.sketch, amount=-CUT_EXTRUDE5_REACH, mode=Mode.PRIVATE) & part.part
    add(cut_extrude5_tool1.solids().sort_by_distance((-65.68712, -23.81202, -8.4582))[0], mode=Mode.SUBTRACT)


solid = part.part
